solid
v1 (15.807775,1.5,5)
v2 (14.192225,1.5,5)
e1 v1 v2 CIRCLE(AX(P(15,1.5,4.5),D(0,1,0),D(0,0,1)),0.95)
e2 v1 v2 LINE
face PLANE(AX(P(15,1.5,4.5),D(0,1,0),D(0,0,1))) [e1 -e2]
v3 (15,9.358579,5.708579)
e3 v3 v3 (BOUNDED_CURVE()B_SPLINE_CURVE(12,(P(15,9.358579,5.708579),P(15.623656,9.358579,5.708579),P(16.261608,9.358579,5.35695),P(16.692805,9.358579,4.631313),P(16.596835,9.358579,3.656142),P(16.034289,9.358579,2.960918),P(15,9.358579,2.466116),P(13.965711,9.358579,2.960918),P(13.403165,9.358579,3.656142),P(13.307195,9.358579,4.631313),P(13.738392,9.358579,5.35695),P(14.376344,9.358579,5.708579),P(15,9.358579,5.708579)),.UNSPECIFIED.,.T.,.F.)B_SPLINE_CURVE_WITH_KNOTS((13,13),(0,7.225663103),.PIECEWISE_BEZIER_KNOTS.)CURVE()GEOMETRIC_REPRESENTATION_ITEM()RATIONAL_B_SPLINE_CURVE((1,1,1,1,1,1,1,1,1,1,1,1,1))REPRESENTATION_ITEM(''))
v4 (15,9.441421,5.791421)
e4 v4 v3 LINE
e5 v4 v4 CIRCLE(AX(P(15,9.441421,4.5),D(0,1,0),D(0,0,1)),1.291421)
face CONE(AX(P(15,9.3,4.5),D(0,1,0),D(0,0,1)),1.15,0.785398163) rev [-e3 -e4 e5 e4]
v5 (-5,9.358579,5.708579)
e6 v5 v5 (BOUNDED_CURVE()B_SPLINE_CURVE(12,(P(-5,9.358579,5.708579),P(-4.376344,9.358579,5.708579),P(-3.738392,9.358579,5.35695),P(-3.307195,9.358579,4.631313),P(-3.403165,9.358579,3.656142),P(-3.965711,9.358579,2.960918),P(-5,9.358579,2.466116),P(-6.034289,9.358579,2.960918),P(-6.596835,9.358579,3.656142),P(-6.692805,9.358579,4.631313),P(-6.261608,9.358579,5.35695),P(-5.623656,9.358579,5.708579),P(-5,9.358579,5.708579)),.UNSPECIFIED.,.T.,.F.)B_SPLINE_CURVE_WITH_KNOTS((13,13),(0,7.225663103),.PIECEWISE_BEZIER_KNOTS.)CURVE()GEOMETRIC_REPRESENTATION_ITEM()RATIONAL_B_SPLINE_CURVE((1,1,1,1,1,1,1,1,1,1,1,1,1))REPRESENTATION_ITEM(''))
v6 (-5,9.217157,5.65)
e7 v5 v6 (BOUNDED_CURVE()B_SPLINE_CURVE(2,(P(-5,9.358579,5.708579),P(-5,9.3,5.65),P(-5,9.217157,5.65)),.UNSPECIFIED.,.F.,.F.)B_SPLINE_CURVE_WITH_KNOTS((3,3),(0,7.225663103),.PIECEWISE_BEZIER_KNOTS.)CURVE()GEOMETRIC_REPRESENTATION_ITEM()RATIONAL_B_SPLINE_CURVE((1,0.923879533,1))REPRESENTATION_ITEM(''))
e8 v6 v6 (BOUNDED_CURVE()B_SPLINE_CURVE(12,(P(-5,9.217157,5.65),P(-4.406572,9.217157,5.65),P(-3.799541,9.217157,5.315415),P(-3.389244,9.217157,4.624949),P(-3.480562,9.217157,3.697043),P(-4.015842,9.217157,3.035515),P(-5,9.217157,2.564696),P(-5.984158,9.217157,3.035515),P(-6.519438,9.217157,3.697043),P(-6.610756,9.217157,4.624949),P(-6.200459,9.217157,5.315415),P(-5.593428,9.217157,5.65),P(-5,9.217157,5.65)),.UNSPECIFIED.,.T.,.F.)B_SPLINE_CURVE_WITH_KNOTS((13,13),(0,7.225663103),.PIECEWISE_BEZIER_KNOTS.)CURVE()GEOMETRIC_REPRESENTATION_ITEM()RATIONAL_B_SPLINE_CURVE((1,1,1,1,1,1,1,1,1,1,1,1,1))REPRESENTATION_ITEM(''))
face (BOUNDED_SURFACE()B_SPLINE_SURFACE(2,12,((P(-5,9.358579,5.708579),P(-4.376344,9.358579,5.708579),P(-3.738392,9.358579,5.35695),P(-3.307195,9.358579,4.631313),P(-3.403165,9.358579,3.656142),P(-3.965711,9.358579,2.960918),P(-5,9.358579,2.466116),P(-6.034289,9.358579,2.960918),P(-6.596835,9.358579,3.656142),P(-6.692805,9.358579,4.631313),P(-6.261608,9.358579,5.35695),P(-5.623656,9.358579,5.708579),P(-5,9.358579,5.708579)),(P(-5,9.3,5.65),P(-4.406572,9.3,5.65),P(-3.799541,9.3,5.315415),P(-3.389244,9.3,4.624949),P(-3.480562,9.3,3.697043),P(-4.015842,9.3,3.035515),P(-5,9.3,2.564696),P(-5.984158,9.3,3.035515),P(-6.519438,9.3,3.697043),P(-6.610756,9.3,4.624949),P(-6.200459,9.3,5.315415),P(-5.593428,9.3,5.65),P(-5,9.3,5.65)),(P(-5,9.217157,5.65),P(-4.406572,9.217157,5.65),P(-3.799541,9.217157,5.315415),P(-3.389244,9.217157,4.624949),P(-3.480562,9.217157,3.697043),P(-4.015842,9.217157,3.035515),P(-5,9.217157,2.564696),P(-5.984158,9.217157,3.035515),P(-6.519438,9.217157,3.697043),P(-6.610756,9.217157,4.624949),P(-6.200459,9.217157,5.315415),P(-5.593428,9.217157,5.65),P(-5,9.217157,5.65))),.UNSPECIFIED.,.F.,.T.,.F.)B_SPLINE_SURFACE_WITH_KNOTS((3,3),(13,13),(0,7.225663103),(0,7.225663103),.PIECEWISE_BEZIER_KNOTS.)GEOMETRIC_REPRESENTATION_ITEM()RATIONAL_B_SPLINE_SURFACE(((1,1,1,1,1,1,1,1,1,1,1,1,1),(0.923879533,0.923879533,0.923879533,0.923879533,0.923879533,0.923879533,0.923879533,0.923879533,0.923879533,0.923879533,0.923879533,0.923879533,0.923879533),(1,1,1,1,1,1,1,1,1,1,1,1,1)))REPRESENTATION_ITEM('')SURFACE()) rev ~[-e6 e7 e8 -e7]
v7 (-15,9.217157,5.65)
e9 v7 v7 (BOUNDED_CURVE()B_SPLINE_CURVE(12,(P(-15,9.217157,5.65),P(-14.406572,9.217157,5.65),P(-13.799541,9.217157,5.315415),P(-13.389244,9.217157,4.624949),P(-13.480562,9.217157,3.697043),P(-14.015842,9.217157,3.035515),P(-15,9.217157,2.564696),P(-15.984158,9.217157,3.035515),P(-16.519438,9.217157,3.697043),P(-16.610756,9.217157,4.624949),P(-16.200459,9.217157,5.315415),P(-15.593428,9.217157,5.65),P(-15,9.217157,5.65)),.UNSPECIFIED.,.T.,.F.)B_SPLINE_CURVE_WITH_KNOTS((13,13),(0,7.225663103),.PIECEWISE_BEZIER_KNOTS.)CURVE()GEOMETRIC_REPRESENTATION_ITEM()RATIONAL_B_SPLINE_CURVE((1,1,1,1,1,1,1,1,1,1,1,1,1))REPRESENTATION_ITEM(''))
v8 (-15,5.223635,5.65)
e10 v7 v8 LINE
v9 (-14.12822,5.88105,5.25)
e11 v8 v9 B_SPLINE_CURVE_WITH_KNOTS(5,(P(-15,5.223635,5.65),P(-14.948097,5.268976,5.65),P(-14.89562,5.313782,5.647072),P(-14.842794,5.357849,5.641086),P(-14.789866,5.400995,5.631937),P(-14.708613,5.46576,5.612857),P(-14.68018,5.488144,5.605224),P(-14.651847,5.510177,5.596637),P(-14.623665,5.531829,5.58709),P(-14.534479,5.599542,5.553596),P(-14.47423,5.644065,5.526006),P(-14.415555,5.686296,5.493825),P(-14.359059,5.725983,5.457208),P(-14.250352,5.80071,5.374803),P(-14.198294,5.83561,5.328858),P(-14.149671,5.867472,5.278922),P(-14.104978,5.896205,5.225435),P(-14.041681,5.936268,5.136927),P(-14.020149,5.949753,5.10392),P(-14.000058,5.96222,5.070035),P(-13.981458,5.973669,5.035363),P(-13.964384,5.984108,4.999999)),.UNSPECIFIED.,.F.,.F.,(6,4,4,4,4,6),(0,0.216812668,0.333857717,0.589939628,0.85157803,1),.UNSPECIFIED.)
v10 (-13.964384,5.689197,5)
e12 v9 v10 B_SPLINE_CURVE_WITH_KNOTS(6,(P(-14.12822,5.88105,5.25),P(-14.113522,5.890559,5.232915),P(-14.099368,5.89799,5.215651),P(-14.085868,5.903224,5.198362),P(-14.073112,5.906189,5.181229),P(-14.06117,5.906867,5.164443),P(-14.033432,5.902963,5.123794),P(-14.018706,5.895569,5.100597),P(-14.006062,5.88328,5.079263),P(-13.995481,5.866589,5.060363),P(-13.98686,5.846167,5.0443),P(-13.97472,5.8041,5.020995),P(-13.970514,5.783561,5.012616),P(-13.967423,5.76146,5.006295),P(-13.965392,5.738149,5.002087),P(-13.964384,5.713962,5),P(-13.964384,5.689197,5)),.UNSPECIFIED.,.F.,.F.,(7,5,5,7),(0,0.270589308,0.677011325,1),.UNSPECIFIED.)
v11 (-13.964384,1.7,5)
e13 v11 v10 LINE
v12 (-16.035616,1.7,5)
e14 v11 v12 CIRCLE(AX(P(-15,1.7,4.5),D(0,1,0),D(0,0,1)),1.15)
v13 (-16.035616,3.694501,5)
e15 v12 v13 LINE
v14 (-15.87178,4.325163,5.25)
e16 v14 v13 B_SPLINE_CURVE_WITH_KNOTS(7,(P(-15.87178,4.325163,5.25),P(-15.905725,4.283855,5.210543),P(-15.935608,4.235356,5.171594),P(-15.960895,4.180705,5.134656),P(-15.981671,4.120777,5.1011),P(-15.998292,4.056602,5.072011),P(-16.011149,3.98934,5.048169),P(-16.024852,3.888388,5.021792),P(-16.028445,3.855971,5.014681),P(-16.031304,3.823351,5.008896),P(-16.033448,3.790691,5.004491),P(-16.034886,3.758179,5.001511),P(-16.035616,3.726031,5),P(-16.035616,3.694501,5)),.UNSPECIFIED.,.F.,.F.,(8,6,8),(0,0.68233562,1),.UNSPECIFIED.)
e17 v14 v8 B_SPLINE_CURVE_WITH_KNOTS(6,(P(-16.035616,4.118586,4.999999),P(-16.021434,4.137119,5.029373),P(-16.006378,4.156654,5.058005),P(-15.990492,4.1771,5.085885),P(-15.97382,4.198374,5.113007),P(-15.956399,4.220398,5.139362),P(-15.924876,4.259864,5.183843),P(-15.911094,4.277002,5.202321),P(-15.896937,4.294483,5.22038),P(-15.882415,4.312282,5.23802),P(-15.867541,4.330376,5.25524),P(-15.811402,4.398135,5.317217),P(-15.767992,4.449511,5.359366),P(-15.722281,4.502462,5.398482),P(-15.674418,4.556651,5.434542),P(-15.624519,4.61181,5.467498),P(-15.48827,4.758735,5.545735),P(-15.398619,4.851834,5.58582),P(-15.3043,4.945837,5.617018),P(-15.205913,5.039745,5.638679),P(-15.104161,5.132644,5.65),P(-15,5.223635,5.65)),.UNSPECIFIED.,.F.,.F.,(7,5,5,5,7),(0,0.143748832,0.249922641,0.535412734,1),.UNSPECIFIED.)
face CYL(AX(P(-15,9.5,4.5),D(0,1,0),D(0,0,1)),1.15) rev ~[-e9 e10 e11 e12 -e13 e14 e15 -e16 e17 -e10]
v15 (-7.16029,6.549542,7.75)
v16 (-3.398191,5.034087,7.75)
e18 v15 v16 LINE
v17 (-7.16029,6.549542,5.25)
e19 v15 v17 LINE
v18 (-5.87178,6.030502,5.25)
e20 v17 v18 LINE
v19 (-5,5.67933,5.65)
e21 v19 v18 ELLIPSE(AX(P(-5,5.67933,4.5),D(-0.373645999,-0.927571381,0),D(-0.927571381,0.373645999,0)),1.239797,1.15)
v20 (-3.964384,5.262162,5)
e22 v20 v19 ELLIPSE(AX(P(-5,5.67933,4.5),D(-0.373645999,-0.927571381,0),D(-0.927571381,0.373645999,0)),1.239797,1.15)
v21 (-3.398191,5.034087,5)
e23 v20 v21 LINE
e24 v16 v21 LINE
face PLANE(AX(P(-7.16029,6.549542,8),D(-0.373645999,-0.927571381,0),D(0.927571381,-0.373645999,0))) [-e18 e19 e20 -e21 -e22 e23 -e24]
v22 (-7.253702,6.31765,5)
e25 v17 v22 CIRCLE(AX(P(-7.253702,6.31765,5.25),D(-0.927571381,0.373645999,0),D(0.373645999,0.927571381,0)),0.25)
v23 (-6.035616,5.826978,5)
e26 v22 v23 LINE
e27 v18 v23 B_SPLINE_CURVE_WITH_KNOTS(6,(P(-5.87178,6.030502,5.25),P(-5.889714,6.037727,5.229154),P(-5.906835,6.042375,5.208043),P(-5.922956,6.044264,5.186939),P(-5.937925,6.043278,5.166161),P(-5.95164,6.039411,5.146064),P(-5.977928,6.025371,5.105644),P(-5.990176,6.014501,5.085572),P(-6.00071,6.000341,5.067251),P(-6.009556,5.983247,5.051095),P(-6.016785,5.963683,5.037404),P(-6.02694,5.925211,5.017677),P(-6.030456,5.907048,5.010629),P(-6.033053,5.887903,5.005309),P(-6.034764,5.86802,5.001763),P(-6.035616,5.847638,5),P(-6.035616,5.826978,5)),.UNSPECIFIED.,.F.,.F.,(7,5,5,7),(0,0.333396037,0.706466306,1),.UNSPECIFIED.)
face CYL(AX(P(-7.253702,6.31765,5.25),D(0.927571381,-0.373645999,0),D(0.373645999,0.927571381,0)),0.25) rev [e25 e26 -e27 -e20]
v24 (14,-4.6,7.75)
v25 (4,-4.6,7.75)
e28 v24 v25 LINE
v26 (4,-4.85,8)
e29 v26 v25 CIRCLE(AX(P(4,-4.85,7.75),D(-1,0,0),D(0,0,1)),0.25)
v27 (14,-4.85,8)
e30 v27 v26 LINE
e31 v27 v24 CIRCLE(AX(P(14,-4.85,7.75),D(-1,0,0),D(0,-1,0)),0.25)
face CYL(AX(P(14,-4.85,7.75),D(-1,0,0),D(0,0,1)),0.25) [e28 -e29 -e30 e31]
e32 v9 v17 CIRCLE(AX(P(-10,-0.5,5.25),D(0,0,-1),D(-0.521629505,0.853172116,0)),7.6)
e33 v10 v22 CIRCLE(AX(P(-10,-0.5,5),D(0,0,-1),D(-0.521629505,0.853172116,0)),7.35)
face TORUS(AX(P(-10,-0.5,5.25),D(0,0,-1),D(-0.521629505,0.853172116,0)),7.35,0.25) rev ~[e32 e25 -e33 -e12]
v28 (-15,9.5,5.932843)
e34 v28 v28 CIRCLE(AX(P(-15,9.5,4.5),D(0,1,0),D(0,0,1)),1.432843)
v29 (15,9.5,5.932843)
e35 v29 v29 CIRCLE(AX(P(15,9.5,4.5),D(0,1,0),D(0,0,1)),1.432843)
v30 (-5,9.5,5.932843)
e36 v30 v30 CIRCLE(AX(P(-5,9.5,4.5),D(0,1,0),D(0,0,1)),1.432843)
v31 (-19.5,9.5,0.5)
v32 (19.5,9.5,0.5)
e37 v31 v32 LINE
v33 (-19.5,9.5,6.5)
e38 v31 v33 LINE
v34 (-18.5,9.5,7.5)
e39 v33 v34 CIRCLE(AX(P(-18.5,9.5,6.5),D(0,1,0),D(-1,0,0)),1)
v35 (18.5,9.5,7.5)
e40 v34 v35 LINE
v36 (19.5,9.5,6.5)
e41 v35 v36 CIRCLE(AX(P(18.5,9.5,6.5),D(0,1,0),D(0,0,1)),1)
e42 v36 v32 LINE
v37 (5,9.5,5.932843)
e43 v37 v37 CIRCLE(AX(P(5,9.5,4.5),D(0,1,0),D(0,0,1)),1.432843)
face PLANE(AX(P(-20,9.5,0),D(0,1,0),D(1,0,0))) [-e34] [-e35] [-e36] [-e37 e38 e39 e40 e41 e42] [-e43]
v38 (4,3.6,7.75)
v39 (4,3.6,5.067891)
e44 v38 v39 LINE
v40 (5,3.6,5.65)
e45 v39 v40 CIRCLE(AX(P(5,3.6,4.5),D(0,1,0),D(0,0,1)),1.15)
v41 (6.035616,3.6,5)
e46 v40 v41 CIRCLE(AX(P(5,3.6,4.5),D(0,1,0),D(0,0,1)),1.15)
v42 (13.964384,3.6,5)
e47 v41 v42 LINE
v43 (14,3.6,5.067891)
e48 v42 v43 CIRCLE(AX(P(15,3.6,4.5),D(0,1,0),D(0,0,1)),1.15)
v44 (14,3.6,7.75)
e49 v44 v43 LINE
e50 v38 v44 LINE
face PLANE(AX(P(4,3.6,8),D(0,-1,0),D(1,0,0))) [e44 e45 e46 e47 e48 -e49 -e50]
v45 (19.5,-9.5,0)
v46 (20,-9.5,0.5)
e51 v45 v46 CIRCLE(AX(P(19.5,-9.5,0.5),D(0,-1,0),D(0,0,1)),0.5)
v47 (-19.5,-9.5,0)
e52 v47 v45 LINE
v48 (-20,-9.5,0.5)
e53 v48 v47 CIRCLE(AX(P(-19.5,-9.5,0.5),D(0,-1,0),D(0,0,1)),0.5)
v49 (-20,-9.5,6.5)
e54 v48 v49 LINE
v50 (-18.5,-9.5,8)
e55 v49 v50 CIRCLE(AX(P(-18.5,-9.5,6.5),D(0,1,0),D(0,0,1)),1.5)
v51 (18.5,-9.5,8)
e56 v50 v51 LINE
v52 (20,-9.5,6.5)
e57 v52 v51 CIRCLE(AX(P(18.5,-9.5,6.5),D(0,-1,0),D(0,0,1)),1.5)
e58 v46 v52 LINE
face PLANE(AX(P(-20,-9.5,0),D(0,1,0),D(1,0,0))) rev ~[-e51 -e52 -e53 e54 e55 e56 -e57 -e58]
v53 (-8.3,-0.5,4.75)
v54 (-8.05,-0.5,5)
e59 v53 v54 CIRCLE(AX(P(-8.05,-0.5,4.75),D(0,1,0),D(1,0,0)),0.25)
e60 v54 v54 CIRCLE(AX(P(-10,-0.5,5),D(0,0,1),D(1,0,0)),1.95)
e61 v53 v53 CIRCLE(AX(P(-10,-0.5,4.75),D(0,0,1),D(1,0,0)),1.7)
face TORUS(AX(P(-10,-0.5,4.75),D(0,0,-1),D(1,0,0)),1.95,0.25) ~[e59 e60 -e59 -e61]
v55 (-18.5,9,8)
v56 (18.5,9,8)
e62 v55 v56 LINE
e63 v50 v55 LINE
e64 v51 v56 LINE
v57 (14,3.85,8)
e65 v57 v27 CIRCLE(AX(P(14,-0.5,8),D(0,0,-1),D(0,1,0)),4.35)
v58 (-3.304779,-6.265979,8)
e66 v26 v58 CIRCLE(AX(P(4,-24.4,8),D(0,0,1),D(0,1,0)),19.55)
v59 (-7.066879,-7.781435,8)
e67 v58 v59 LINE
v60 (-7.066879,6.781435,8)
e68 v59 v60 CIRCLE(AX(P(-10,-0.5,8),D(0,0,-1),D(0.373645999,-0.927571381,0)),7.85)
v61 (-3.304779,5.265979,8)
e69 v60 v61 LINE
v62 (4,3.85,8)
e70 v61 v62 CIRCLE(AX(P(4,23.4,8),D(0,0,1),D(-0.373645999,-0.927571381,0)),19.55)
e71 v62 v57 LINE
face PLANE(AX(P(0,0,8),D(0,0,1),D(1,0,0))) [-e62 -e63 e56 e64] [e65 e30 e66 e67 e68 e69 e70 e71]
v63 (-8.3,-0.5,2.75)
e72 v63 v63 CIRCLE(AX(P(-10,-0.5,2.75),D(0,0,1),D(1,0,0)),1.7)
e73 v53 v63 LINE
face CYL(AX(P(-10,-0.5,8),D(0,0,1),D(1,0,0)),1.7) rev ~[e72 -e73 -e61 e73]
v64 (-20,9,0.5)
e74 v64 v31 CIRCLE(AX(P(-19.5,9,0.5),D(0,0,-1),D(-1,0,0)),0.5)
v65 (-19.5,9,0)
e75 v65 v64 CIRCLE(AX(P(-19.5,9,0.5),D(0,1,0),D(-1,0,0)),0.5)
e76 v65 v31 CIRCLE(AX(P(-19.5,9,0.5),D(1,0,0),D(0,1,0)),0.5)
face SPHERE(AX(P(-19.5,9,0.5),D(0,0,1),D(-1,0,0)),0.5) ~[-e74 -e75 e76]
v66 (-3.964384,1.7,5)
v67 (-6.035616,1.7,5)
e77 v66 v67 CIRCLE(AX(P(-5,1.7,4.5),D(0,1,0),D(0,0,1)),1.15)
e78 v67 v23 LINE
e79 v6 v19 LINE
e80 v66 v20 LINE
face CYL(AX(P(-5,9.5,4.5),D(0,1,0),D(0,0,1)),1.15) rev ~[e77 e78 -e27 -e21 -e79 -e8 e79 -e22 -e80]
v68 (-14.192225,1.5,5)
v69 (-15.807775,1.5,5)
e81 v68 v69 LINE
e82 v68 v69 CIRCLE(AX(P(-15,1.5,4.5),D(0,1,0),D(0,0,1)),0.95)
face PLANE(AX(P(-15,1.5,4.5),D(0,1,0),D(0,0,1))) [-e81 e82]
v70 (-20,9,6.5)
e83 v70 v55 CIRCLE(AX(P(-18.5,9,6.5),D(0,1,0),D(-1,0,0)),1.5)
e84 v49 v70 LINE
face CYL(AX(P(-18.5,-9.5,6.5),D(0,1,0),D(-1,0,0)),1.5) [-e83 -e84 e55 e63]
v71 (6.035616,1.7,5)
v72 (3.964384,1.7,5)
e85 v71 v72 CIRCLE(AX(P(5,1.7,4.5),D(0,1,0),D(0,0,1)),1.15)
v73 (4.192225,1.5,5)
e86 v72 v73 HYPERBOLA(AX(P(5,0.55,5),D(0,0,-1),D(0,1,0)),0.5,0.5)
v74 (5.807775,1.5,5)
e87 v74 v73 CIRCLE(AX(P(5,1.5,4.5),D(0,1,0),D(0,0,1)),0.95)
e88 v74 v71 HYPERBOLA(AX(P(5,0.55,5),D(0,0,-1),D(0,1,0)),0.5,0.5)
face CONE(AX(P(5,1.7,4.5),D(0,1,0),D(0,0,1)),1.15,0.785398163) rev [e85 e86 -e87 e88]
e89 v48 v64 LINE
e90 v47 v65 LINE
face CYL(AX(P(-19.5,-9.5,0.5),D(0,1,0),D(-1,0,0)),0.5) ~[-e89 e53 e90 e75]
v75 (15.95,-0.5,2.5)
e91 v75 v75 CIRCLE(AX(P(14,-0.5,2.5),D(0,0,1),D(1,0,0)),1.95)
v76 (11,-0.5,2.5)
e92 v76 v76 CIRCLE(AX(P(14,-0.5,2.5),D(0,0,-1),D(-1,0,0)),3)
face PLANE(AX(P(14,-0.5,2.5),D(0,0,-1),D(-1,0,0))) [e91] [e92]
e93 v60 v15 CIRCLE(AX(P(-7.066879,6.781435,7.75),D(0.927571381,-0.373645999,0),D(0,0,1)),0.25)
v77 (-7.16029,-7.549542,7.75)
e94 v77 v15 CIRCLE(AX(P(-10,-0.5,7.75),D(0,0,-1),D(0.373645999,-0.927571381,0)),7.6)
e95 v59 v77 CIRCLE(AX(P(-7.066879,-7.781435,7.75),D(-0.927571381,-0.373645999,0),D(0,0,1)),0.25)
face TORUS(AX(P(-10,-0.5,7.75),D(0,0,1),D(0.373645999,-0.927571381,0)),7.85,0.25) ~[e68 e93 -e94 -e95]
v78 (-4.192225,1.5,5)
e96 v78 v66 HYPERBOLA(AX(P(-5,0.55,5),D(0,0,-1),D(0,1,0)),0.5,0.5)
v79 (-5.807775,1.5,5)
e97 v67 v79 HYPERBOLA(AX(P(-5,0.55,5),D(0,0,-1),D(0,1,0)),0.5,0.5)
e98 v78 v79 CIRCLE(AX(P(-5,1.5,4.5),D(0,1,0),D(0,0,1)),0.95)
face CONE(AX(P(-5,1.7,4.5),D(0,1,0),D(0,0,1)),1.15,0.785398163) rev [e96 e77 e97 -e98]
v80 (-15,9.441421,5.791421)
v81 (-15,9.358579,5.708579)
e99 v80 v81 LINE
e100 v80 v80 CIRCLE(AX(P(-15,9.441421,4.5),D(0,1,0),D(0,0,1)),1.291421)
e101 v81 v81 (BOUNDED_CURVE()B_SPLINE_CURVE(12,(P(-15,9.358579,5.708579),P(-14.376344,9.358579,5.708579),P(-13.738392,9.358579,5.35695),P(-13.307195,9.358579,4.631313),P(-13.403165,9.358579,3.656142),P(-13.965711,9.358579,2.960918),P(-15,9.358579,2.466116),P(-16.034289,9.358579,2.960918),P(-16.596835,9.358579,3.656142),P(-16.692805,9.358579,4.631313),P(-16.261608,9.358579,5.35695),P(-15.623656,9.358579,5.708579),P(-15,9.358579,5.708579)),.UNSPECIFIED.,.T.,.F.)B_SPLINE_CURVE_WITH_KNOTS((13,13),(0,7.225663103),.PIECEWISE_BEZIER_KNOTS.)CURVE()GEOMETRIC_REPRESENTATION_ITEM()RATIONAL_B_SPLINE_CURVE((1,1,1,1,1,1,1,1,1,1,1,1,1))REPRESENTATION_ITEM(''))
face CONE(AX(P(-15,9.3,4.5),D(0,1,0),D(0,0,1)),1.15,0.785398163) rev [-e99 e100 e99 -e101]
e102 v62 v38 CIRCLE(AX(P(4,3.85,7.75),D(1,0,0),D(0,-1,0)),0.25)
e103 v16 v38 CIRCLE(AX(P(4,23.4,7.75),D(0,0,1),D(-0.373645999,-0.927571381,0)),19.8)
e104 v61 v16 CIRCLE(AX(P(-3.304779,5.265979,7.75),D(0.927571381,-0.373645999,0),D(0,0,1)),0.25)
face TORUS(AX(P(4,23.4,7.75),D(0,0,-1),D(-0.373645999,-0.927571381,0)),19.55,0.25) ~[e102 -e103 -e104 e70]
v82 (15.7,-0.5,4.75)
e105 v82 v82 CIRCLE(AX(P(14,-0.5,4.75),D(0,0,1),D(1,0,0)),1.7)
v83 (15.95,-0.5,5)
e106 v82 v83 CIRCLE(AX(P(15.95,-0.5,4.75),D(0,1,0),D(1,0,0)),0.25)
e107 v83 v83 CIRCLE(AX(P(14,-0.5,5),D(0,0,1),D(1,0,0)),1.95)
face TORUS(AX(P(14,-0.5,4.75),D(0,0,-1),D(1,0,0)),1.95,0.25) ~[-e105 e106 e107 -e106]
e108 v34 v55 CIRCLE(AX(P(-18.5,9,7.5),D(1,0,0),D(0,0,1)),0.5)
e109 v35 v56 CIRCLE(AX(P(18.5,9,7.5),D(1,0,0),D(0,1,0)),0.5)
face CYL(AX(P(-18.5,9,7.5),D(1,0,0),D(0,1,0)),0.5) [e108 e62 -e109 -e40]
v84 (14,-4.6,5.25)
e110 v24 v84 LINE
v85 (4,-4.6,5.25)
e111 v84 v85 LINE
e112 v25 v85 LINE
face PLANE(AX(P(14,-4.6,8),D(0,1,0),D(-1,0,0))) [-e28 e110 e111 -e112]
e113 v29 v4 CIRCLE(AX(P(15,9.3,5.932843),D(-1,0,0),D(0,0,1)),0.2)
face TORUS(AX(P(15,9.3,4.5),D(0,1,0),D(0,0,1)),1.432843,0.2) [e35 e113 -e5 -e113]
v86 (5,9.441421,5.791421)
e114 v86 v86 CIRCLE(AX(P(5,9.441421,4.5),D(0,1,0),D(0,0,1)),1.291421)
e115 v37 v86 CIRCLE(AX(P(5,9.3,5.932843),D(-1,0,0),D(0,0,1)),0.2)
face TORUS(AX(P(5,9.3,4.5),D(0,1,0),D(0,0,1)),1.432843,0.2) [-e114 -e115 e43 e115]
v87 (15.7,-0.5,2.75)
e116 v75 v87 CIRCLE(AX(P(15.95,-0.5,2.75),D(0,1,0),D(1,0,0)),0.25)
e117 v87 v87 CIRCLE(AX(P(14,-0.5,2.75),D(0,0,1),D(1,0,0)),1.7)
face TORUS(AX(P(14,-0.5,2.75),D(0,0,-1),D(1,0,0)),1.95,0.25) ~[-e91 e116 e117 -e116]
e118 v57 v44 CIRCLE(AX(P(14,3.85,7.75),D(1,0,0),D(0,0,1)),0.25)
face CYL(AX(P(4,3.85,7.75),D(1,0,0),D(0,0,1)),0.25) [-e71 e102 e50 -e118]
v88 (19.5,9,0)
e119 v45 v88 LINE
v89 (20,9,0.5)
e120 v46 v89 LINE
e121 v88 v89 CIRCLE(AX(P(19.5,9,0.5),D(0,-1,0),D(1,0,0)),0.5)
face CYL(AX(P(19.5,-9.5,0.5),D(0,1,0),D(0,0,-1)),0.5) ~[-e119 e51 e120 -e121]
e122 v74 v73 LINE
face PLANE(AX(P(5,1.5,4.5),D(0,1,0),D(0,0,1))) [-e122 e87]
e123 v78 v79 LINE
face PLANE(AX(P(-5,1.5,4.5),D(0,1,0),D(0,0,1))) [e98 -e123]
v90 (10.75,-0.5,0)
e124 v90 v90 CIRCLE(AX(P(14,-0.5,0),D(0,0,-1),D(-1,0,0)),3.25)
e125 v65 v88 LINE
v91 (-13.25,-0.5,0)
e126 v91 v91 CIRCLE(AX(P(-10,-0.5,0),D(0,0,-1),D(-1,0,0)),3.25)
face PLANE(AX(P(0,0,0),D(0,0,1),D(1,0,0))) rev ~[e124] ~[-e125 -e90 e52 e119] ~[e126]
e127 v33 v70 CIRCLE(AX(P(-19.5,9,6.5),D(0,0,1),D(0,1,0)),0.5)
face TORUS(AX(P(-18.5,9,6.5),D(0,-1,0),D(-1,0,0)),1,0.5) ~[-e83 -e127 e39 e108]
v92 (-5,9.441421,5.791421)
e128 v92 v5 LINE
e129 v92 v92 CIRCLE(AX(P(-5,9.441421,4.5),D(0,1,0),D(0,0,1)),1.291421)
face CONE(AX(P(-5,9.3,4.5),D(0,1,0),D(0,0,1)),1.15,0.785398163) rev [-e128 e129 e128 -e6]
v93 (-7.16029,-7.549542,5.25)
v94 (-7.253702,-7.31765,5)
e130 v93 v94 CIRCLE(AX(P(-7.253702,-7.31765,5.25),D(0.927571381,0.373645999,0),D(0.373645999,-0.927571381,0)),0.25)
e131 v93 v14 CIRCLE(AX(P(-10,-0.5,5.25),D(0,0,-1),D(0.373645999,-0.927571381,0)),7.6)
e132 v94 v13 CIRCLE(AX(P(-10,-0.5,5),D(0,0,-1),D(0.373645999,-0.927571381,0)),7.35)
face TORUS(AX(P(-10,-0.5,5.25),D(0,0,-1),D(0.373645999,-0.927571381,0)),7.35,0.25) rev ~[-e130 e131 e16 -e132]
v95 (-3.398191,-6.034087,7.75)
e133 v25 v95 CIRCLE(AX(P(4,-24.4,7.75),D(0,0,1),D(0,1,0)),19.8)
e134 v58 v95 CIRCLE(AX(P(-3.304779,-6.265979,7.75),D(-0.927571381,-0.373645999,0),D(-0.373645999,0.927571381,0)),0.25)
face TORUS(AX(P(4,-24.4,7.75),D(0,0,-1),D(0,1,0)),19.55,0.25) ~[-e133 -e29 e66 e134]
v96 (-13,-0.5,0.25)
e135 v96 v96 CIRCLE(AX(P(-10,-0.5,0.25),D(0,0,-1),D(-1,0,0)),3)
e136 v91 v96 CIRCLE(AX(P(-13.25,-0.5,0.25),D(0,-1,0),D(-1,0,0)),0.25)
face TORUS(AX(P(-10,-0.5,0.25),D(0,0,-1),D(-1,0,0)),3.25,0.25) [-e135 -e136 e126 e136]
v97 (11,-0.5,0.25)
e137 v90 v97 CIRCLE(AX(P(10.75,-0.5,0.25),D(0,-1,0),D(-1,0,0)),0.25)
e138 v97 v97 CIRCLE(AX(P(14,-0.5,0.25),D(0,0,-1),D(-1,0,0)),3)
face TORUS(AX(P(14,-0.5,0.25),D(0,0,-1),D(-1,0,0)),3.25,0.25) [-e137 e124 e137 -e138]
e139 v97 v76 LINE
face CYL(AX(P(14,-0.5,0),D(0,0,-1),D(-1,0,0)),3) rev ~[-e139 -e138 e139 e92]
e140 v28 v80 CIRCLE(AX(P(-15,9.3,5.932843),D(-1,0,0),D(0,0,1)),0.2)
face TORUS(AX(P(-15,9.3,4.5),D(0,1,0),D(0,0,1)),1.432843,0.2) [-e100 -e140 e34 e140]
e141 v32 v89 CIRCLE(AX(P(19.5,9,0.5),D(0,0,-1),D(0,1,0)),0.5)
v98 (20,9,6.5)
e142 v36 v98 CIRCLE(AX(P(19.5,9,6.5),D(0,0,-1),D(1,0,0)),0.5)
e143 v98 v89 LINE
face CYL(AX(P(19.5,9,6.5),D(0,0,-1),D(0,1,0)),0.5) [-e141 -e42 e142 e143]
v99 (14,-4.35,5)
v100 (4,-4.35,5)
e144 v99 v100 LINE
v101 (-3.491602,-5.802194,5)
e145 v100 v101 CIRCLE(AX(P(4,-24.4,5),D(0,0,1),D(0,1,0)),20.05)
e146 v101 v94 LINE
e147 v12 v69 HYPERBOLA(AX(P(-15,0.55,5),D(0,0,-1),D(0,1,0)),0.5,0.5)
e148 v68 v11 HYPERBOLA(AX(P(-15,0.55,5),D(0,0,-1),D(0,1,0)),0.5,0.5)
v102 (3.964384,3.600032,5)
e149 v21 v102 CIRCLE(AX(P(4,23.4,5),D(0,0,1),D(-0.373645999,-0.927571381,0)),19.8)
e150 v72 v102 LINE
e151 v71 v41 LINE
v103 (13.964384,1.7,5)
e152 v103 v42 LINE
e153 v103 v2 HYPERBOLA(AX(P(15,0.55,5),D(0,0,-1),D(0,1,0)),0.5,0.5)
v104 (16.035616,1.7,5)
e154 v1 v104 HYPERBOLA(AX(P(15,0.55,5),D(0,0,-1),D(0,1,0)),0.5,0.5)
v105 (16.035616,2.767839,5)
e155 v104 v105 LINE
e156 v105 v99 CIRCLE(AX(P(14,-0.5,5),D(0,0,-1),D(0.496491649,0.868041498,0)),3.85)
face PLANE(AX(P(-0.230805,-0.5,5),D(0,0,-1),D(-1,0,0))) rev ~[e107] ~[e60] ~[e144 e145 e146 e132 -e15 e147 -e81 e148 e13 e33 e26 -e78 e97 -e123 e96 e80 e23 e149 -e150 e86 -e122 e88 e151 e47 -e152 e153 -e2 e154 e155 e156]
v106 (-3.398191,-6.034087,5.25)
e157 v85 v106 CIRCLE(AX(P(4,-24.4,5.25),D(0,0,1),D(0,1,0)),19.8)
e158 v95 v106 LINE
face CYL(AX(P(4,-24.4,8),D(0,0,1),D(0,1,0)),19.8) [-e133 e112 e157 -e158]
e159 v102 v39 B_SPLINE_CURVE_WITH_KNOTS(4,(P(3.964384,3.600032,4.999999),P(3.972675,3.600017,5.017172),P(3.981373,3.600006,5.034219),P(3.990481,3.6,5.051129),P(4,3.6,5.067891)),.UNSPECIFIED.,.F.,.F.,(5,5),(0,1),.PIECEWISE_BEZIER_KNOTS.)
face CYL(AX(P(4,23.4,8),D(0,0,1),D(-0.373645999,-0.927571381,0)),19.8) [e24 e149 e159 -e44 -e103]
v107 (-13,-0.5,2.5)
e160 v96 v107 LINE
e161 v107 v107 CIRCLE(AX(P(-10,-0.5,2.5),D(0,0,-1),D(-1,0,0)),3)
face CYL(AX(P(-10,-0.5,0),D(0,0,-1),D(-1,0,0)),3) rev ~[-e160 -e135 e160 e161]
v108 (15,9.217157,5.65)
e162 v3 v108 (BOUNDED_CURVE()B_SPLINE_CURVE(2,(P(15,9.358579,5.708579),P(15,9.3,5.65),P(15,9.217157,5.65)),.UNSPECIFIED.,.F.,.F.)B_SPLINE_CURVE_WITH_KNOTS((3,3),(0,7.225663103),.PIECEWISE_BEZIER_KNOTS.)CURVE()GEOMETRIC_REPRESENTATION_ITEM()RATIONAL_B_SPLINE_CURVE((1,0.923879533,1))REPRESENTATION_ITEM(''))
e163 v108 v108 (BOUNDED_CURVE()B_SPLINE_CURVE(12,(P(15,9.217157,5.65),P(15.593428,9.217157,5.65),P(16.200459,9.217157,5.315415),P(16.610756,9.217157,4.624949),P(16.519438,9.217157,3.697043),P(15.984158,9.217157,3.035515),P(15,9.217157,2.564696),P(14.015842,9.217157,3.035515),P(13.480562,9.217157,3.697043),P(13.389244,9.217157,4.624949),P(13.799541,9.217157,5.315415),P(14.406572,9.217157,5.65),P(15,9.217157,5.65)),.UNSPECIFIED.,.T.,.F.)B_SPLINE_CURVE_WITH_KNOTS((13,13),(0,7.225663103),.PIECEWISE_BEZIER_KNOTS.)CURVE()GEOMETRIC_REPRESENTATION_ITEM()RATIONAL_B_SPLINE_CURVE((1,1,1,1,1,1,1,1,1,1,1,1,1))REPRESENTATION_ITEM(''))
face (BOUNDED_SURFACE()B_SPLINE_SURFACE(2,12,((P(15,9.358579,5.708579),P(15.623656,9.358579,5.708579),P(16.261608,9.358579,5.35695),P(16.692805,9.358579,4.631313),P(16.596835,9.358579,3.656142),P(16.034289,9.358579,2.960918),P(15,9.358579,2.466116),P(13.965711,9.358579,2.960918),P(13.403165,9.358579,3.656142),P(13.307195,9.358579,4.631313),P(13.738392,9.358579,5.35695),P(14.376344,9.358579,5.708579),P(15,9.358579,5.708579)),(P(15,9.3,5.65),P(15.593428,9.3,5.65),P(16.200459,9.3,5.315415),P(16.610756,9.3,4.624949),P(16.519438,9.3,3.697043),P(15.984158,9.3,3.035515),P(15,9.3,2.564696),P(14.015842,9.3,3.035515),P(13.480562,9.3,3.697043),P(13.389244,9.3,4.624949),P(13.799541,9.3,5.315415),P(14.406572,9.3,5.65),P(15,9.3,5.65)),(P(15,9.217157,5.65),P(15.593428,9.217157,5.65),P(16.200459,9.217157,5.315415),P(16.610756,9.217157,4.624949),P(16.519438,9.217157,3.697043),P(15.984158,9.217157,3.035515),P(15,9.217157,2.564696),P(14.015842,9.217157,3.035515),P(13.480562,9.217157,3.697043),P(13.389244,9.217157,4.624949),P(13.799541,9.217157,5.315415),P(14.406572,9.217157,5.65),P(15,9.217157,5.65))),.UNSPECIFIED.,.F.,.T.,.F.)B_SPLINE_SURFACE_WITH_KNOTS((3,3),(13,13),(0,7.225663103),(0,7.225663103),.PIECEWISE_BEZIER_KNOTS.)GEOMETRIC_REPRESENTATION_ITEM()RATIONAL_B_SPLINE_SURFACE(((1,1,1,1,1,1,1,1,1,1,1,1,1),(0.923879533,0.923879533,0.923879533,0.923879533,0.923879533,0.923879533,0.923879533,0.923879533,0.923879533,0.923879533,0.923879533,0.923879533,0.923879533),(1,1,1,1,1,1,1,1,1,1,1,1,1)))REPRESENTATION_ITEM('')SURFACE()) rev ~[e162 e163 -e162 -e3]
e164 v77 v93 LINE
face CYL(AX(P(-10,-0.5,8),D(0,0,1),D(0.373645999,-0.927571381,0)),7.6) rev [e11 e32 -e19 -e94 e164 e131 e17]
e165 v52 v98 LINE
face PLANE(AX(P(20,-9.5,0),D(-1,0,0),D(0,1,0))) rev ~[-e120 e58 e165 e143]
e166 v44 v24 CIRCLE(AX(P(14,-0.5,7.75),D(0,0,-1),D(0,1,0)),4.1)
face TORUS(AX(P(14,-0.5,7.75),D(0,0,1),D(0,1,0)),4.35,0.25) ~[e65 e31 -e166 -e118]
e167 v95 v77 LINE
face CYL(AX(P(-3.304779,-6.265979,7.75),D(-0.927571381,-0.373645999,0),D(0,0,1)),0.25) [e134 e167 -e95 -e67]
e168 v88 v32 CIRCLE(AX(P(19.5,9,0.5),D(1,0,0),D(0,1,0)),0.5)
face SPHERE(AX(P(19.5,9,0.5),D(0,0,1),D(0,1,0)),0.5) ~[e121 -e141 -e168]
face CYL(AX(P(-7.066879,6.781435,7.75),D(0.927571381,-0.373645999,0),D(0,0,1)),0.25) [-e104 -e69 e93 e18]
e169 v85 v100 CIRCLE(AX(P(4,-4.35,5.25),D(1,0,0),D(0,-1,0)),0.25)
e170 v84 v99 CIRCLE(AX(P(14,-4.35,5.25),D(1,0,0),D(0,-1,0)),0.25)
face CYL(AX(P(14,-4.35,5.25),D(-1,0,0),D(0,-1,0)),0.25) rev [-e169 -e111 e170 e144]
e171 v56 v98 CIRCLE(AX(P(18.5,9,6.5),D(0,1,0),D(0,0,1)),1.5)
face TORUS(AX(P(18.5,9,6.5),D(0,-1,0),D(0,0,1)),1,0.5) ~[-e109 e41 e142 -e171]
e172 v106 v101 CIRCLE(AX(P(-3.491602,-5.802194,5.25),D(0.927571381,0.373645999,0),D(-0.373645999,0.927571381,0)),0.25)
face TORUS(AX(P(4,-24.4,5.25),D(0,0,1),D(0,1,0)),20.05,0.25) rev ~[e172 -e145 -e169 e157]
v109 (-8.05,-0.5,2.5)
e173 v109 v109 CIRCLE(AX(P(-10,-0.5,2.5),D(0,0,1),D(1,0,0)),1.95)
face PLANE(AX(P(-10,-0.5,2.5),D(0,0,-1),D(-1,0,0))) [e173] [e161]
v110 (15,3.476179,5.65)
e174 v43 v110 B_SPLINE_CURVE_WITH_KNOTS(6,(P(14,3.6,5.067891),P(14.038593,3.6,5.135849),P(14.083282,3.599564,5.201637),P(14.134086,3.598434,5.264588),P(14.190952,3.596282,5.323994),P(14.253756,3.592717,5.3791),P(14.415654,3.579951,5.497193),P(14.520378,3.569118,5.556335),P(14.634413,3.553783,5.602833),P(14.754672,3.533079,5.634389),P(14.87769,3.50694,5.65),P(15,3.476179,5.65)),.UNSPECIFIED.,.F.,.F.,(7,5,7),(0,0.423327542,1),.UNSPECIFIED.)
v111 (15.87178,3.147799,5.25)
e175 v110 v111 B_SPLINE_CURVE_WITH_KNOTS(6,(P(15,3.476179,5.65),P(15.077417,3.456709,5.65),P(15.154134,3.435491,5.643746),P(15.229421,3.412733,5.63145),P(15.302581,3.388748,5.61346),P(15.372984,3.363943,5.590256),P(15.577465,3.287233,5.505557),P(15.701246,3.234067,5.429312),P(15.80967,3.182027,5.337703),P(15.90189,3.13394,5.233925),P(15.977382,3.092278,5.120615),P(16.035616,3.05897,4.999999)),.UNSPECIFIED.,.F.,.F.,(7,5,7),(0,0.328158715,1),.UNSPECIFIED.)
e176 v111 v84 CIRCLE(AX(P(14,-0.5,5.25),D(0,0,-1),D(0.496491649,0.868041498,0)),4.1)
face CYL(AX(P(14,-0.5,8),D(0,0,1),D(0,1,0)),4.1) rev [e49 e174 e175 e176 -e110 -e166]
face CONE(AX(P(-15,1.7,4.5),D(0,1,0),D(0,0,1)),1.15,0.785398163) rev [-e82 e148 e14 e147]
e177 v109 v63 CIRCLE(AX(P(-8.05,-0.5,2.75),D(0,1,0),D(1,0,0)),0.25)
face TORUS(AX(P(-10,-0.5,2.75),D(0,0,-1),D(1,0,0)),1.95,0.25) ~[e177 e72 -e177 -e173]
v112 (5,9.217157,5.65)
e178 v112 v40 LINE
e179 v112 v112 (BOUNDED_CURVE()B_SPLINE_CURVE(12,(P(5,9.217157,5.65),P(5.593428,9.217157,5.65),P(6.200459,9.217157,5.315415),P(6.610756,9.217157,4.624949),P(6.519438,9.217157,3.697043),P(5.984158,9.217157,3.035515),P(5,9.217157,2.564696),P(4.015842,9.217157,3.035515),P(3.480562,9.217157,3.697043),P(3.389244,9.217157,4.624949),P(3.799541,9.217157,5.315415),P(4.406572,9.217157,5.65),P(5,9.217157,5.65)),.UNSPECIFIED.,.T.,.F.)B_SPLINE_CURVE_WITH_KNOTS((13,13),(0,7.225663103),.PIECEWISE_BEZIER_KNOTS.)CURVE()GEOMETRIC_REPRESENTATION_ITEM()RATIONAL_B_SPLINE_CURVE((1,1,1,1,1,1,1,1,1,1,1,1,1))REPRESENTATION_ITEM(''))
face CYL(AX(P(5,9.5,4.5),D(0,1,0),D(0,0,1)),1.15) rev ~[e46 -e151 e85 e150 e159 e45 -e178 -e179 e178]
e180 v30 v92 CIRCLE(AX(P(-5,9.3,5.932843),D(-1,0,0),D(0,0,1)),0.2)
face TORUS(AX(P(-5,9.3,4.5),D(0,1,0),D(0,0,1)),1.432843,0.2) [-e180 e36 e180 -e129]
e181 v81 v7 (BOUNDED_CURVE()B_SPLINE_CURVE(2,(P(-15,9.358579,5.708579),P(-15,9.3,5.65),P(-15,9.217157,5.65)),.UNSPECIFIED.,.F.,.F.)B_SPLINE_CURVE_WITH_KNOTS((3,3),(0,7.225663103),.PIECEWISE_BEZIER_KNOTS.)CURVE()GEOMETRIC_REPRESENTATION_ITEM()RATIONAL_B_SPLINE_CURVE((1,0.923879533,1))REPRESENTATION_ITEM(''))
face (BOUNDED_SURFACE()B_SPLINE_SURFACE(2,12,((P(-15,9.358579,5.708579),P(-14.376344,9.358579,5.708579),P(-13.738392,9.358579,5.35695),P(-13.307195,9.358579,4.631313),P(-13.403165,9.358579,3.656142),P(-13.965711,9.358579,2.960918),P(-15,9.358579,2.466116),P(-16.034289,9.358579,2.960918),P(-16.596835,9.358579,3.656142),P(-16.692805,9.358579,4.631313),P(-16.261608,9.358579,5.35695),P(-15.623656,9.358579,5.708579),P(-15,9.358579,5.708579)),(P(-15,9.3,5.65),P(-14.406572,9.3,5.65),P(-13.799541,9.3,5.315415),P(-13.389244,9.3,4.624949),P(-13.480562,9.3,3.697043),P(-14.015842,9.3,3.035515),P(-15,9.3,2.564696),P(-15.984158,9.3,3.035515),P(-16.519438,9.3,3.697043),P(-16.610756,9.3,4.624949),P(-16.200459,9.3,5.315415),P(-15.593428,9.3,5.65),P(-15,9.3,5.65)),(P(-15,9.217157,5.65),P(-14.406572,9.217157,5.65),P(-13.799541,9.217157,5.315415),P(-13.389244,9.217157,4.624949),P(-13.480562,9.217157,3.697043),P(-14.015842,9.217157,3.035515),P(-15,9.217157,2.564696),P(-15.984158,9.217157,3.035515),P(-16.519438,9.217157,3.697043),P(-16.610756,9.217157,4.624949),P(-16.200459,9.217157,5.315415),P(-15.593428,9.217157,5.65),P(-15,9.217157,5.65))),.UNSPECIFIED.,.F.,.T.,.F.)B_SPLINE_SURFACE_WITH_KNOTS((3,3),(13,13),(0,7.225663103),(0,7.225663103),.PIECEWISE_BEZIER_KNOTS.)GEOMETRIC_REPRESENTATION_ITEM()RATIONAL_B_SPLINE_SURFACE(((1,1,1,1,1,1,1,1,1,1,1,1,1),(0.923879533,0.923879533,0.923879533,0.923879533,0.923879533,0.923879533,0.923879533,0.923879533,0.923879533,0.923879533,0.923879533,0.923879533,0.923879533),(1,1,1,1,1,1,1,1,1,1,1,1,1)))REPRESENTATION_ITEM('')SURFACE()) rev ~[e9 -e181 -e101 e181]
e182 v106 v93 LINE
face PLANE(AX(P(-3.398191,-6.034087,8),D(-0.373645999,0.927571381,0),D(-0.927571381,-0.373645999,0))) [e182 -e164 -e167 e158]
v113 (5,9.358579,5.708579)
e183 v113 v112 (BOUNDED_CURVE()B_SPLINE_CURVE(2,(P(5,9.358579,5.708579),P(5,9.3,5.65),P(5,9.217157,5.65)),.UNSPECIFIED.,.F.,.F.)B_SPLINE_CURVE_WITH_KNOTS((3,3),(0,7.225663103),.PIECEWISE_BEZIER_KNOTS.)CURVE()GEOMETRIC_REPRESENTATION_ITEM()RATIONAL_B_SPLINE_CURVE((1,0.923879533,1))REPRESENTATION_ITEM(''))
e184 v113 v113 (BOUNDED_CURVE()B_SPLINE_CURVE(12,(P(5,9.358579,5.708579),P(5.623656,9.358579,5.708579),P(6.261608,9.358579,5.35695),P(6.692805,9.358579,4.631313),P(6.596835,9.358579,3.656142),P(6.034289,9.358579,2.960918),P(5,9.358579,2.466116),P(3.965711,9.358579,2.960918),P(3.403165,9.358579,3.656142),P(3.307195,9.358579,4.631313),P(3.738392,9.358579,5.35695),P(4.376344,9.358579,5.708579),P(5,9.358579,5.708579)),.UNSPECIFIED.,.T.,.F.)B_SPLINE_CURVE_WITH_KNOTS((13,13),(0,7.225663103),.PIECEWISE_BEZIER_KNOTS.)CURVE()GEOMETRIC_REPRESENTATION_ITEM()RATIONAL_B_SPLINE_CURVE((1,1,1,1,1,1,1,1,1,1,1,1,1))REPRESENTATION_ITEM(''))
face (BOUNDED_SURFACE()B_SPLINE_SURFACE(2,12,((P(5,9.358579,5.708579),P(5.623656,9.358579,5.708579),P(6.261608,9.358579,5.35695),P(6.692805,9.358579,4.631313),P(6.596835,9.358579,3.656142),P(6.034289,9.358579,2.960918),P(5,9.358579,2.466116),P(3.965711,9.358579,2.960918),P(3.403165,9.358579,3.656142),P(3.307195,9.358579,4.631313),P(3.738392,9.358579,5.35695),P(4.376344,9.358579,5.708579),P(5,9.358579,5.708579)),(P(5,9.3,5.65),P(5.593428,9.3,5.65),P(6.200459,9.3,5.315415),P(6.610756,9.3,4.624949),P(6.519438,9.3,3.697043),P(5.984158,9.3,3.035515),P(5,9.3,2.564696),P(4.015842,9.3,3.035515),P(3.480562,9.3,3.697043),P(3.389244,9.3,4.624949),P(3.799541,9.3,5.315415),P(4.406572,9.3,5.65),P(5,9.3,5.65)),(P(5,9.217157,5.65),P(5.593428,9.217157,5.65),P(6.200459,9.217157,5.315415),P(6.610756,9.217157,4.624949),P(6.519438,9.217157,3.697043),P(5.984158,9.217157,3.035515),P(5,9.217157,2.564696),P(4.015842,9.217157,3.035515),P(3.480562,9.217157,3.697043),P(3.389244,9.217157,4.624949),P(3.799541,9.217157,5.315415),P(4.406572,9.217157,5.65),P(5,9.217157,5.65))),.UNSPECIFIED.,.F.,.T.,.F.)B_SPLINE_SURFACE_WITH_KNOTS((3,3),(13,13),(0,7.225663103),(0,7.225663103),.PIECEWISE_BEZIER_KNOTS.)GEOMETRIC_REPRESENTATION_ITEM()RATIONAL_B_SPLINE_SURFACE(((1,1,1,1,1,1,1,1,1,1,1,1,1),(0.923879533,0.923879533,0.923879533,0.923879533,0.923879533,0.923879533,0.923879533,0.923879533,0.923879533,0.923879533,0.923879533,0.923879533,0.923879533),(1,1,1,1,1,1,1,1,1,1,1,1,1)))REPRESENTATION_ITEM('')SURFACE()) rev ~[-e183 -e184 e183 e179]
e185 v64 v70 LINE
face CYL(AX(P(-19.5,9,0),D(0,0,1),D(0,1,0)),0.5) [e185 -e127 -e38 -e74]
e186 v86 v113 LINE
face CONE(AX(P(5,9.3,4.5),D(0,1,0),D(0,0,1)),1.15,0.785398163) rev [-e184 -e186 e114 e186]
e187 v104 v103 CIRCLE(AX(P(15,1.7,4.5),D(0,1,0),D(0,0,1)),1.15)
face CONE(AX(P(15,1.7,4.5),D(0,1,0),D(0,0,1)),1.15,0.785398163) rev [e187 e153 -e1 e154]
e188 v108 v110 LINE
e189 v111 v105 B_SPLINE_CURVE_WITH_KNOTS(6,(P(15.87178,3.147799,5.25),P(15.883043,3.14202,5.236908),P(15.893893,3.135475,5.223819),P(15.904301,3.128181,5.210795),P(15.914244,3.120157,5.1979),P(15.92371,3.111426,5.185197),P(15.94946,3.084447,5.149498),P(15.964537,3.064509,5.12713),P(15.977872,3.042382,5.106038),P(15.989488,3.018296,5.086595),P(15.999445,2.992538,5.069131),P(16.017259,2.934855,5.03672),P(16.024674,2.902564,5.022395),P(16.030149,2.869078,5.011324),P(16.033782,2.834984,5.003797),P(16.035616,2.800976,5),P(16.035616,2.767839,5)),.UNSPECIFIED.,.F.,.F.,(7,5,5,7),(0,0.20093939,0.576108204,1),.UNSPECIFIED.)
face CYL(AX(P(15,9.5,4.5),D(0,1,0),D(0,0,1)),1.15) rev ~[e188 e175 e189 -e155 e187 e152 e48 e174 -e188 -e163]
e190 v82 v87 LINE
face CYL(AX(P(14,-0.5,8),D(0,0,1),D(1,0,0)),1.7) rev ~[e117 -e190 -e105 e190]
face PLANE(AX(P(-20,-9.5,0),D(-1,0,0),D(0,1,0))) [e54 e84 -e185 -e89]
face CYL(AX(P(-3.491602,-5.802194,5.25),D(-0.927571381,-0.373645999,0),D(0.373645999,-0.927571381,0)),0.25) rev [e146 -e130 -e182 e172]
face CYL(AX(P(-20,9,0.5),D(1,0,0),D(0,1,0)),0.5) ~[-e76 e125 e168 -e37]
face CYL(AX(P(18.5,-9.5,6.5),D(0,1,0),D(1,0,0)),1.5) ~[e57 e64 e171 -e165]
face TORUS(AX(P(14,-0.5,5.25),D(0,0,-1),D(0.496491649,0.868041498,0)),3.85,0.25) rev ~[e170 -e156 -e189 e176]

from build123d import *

# Parameters (mm, degrees)
SKETCH2_W           = 40
SKETCH2_H           = 19
BOSS_EXTRUDE1_DEPTH = 8
FILLET1_R           = 1.5
SKETCH5_R           = 1.15
CUT_EXTRUDE3_DEPTH  = 8
CHAMFER1_SIZE       = 0.2
FILLET3_R           = 0.2
FILLET2_R           = 0.5
SKETCH6_R           = 1.7
CUT_EXTRUDE4_DEPTH  = 24.542514734
SKETCH7_R           = 3
CUT_EXTRUDE5_DEPTH  = 2.5
CUT_EXTRUDE6_DEPTH  = 3
FILLET5_R           = 0.25
FILLET6_R           = 0.25


with BuildPart() as part:
    # Sketch2 → Boss-Extrude1 (new body)
    with BuildSketch(Plane.XY):
        Rectangle(SKETCH2_W, SKETCH2_H)
    extrude(amount=BOSS_EXTRUDE1_DEPTH)

    # Fillet1
    fillet1_edges = [part.edges().sort_by_distance(p)[0] for p in [
        (-20, 0, 8),
        (20, 0, 8),
    ]]
    fillet(fillet1_edges, radius=FILLET1_R)

    # Sketch5 → Cut-Extrude3 (cut)
    with BuildSketch(Plane(origin=(0, 9.5, 0), x_dir=(1, 0, 0), z_dir=(0, 1, 0))):
        with Locations(Location((-15, -4.5, 0), (0, 0, 270))):
            Circle(SKETCH5_R)
        with Locations(Location((-5, -4.5, 0), (0, 0, 270))):
            Circle(SKETCH5_R)
        with Locations(Location((5, -4.5, 0), (0, 0, 270))):
            Circle(SKETCH5_R)
        with Locations(Location((15, -4.5, 0), (0, 0, 270))):
            Circle(SKETCH5_R)
    extrude(amount=-CUT_EXTRUDE3_DEPTH, mode=Mode.SUBTRACT)

    # Chamfer1
    chamfer1_edges = [part.edges().sort_by_distance(p)[0] for p in [
        (-15, 1.5, 3.35),
        (-15, 9.5, 3.35),
        (-5, 1.5, 3.35),
        (-5, 9.5, 3.35),
        (5, 1.5, 3.35),
        (5, 9.5, 3.35),
        (15, 1.5, 3.35),
        (15, 9.5, 3.35),
    ]]
    chamfer(chamfer1_edges, length=CHAMFER1_SIZE)

    # Fillet3
    fillet3_edges = [part.edges().sort_by_distance(p)[0] for p in [
        (15, 9.3, 3.35),
        (-15, 9.5, 3.15),
        (-5, 9.5, 3.15),
        (5, 9.5, 3.15),
        (15, 9.5, 3.15),
        (5, 9.3, 3.35),
        (-5, 9.3, 3.35),
        (-15, 9.3, 3.35),
    ]]
    fillet(fillet3_edges, radius=FILLET3_R)

    # Fillet2
    fillet2_edges = [part.edges().sort_by_distance(p)[0] for p in [
        (0, 9.5, 8),
        (-20, 9.5, 3.25),
        (20, 9.5, 3.25),
        (-19.560660172, 9.5, 7.560660172),
        (19.560660172, 9.5, 7.560660172),
        (-20, 0, 0),
        (0, 9.5, 0),
        (20, 0, 0),
    ]]
    fillet(fillet2_edges, radius=FILLET2_R)

    # Sketch6 → Cut-Extrude4 (cut, through all)
    with BuildSketch(Plane.XY.offset(8)):
        with Locations((-10, -0.5)):
            Circle(SKETCH6_R)
        with Locations((14, -0.5)):
            Circle(SKETCH6_R)
    extrude(amount=-CUT_EXTRUDE4_DEPTH, mode=Mode.SUBTRACT)

    # Sketch7 → Cut-Extrude5 (cut)
    with BuildSketch(Plane(origin=(0, 0, 0), x_dir=(-1, 0, 0), z_dir=(0, 0, -1))):
        with Locations((-14, -0.5)):
            Circle(SKETCH7_R)
        with Locations((10, -0.5)):
            Circle(SKETCH7_R)
    extrude(amount=-CUT_EXTRUDE5_DEPTH, mode=Mode.SUBTRACT)

    # Sketch8 → Cut-Extrude6 (cut)
    with BuildSketch(Plane.XY.offset(8)):
        with BuildLine():
            Line((14, -4.6), (4, -4.6))
            ThreePointArc((4, -4.6), (0.232048588, -4.961827705), (-3.398190783, -6.034086651))
            Line((-3.398190783, -6.034086651), (-7.160290407, -7.549542498))
            ThreePointArc((-7.160290407, -7.549542498), (-17.6, -0.5), (-7.160290407, 6.549542498))
            Line((-7.160290407, 6.549542498), (-3.398190783, 5.034086651))
            ThreePointArc((-3.398190783, 5.034086651), (0.232048588, 3.961827705), (4, 3.6))
            Line((4, 3.6), (14, 3.6))
            ThreePointArc((14, 3.6), (18.1, -0.5), (14, -4.6))
        make_face()
    extrude(amount=-CUT_EXTRUDE6_DEPTH, mode=Mode.SUBTRACT)

    # Fillet5
    fillet5_edges = [part.edges().sort_by_distance(p)[0] for p in [
        (-6.597953083, 6.323020749, 5),
        (17.962434705, -1.553143488, 5),
        (9, -4.6, 5),
        (0.232048588, -4.961827705, 5),
        (-5.279240595, -6.791814574, 5),
        (-5.279240595, 5.791814574, 8),
        (0.232048588, 3.961827705, 8),
        (9, 3.6, 8),
        (18.1, -0.5, 8),
        (9, -4.6, 8),
        (0.232048588, -4.961827705, 8),
        (-5.279240595, -6.791814574, 8),
        (-7, -0.5, 0),
        (17, -0.5, 0),
        (-10.629406296, 7.073892507, 5),
        (-16.048947293, -5.101112544, 5),
        (-17.6, -0.5, 8),
    ]]
    fillet(fillet5_edges, radius=FILLET5_R)

    # Fillet6
    fillet6_edges = [part.edges().sort_by_distance(p)[0] for p in [
        (12.3, -0.5, 2.5),
        (-11.7, -0.5, 2.5),
        (12.3, -0.5, 5),
        (-11.7, -0.5, 5),
    ]]
    fillet(fillet6_edges, radius=FILLET6_R)


solid = part.part
